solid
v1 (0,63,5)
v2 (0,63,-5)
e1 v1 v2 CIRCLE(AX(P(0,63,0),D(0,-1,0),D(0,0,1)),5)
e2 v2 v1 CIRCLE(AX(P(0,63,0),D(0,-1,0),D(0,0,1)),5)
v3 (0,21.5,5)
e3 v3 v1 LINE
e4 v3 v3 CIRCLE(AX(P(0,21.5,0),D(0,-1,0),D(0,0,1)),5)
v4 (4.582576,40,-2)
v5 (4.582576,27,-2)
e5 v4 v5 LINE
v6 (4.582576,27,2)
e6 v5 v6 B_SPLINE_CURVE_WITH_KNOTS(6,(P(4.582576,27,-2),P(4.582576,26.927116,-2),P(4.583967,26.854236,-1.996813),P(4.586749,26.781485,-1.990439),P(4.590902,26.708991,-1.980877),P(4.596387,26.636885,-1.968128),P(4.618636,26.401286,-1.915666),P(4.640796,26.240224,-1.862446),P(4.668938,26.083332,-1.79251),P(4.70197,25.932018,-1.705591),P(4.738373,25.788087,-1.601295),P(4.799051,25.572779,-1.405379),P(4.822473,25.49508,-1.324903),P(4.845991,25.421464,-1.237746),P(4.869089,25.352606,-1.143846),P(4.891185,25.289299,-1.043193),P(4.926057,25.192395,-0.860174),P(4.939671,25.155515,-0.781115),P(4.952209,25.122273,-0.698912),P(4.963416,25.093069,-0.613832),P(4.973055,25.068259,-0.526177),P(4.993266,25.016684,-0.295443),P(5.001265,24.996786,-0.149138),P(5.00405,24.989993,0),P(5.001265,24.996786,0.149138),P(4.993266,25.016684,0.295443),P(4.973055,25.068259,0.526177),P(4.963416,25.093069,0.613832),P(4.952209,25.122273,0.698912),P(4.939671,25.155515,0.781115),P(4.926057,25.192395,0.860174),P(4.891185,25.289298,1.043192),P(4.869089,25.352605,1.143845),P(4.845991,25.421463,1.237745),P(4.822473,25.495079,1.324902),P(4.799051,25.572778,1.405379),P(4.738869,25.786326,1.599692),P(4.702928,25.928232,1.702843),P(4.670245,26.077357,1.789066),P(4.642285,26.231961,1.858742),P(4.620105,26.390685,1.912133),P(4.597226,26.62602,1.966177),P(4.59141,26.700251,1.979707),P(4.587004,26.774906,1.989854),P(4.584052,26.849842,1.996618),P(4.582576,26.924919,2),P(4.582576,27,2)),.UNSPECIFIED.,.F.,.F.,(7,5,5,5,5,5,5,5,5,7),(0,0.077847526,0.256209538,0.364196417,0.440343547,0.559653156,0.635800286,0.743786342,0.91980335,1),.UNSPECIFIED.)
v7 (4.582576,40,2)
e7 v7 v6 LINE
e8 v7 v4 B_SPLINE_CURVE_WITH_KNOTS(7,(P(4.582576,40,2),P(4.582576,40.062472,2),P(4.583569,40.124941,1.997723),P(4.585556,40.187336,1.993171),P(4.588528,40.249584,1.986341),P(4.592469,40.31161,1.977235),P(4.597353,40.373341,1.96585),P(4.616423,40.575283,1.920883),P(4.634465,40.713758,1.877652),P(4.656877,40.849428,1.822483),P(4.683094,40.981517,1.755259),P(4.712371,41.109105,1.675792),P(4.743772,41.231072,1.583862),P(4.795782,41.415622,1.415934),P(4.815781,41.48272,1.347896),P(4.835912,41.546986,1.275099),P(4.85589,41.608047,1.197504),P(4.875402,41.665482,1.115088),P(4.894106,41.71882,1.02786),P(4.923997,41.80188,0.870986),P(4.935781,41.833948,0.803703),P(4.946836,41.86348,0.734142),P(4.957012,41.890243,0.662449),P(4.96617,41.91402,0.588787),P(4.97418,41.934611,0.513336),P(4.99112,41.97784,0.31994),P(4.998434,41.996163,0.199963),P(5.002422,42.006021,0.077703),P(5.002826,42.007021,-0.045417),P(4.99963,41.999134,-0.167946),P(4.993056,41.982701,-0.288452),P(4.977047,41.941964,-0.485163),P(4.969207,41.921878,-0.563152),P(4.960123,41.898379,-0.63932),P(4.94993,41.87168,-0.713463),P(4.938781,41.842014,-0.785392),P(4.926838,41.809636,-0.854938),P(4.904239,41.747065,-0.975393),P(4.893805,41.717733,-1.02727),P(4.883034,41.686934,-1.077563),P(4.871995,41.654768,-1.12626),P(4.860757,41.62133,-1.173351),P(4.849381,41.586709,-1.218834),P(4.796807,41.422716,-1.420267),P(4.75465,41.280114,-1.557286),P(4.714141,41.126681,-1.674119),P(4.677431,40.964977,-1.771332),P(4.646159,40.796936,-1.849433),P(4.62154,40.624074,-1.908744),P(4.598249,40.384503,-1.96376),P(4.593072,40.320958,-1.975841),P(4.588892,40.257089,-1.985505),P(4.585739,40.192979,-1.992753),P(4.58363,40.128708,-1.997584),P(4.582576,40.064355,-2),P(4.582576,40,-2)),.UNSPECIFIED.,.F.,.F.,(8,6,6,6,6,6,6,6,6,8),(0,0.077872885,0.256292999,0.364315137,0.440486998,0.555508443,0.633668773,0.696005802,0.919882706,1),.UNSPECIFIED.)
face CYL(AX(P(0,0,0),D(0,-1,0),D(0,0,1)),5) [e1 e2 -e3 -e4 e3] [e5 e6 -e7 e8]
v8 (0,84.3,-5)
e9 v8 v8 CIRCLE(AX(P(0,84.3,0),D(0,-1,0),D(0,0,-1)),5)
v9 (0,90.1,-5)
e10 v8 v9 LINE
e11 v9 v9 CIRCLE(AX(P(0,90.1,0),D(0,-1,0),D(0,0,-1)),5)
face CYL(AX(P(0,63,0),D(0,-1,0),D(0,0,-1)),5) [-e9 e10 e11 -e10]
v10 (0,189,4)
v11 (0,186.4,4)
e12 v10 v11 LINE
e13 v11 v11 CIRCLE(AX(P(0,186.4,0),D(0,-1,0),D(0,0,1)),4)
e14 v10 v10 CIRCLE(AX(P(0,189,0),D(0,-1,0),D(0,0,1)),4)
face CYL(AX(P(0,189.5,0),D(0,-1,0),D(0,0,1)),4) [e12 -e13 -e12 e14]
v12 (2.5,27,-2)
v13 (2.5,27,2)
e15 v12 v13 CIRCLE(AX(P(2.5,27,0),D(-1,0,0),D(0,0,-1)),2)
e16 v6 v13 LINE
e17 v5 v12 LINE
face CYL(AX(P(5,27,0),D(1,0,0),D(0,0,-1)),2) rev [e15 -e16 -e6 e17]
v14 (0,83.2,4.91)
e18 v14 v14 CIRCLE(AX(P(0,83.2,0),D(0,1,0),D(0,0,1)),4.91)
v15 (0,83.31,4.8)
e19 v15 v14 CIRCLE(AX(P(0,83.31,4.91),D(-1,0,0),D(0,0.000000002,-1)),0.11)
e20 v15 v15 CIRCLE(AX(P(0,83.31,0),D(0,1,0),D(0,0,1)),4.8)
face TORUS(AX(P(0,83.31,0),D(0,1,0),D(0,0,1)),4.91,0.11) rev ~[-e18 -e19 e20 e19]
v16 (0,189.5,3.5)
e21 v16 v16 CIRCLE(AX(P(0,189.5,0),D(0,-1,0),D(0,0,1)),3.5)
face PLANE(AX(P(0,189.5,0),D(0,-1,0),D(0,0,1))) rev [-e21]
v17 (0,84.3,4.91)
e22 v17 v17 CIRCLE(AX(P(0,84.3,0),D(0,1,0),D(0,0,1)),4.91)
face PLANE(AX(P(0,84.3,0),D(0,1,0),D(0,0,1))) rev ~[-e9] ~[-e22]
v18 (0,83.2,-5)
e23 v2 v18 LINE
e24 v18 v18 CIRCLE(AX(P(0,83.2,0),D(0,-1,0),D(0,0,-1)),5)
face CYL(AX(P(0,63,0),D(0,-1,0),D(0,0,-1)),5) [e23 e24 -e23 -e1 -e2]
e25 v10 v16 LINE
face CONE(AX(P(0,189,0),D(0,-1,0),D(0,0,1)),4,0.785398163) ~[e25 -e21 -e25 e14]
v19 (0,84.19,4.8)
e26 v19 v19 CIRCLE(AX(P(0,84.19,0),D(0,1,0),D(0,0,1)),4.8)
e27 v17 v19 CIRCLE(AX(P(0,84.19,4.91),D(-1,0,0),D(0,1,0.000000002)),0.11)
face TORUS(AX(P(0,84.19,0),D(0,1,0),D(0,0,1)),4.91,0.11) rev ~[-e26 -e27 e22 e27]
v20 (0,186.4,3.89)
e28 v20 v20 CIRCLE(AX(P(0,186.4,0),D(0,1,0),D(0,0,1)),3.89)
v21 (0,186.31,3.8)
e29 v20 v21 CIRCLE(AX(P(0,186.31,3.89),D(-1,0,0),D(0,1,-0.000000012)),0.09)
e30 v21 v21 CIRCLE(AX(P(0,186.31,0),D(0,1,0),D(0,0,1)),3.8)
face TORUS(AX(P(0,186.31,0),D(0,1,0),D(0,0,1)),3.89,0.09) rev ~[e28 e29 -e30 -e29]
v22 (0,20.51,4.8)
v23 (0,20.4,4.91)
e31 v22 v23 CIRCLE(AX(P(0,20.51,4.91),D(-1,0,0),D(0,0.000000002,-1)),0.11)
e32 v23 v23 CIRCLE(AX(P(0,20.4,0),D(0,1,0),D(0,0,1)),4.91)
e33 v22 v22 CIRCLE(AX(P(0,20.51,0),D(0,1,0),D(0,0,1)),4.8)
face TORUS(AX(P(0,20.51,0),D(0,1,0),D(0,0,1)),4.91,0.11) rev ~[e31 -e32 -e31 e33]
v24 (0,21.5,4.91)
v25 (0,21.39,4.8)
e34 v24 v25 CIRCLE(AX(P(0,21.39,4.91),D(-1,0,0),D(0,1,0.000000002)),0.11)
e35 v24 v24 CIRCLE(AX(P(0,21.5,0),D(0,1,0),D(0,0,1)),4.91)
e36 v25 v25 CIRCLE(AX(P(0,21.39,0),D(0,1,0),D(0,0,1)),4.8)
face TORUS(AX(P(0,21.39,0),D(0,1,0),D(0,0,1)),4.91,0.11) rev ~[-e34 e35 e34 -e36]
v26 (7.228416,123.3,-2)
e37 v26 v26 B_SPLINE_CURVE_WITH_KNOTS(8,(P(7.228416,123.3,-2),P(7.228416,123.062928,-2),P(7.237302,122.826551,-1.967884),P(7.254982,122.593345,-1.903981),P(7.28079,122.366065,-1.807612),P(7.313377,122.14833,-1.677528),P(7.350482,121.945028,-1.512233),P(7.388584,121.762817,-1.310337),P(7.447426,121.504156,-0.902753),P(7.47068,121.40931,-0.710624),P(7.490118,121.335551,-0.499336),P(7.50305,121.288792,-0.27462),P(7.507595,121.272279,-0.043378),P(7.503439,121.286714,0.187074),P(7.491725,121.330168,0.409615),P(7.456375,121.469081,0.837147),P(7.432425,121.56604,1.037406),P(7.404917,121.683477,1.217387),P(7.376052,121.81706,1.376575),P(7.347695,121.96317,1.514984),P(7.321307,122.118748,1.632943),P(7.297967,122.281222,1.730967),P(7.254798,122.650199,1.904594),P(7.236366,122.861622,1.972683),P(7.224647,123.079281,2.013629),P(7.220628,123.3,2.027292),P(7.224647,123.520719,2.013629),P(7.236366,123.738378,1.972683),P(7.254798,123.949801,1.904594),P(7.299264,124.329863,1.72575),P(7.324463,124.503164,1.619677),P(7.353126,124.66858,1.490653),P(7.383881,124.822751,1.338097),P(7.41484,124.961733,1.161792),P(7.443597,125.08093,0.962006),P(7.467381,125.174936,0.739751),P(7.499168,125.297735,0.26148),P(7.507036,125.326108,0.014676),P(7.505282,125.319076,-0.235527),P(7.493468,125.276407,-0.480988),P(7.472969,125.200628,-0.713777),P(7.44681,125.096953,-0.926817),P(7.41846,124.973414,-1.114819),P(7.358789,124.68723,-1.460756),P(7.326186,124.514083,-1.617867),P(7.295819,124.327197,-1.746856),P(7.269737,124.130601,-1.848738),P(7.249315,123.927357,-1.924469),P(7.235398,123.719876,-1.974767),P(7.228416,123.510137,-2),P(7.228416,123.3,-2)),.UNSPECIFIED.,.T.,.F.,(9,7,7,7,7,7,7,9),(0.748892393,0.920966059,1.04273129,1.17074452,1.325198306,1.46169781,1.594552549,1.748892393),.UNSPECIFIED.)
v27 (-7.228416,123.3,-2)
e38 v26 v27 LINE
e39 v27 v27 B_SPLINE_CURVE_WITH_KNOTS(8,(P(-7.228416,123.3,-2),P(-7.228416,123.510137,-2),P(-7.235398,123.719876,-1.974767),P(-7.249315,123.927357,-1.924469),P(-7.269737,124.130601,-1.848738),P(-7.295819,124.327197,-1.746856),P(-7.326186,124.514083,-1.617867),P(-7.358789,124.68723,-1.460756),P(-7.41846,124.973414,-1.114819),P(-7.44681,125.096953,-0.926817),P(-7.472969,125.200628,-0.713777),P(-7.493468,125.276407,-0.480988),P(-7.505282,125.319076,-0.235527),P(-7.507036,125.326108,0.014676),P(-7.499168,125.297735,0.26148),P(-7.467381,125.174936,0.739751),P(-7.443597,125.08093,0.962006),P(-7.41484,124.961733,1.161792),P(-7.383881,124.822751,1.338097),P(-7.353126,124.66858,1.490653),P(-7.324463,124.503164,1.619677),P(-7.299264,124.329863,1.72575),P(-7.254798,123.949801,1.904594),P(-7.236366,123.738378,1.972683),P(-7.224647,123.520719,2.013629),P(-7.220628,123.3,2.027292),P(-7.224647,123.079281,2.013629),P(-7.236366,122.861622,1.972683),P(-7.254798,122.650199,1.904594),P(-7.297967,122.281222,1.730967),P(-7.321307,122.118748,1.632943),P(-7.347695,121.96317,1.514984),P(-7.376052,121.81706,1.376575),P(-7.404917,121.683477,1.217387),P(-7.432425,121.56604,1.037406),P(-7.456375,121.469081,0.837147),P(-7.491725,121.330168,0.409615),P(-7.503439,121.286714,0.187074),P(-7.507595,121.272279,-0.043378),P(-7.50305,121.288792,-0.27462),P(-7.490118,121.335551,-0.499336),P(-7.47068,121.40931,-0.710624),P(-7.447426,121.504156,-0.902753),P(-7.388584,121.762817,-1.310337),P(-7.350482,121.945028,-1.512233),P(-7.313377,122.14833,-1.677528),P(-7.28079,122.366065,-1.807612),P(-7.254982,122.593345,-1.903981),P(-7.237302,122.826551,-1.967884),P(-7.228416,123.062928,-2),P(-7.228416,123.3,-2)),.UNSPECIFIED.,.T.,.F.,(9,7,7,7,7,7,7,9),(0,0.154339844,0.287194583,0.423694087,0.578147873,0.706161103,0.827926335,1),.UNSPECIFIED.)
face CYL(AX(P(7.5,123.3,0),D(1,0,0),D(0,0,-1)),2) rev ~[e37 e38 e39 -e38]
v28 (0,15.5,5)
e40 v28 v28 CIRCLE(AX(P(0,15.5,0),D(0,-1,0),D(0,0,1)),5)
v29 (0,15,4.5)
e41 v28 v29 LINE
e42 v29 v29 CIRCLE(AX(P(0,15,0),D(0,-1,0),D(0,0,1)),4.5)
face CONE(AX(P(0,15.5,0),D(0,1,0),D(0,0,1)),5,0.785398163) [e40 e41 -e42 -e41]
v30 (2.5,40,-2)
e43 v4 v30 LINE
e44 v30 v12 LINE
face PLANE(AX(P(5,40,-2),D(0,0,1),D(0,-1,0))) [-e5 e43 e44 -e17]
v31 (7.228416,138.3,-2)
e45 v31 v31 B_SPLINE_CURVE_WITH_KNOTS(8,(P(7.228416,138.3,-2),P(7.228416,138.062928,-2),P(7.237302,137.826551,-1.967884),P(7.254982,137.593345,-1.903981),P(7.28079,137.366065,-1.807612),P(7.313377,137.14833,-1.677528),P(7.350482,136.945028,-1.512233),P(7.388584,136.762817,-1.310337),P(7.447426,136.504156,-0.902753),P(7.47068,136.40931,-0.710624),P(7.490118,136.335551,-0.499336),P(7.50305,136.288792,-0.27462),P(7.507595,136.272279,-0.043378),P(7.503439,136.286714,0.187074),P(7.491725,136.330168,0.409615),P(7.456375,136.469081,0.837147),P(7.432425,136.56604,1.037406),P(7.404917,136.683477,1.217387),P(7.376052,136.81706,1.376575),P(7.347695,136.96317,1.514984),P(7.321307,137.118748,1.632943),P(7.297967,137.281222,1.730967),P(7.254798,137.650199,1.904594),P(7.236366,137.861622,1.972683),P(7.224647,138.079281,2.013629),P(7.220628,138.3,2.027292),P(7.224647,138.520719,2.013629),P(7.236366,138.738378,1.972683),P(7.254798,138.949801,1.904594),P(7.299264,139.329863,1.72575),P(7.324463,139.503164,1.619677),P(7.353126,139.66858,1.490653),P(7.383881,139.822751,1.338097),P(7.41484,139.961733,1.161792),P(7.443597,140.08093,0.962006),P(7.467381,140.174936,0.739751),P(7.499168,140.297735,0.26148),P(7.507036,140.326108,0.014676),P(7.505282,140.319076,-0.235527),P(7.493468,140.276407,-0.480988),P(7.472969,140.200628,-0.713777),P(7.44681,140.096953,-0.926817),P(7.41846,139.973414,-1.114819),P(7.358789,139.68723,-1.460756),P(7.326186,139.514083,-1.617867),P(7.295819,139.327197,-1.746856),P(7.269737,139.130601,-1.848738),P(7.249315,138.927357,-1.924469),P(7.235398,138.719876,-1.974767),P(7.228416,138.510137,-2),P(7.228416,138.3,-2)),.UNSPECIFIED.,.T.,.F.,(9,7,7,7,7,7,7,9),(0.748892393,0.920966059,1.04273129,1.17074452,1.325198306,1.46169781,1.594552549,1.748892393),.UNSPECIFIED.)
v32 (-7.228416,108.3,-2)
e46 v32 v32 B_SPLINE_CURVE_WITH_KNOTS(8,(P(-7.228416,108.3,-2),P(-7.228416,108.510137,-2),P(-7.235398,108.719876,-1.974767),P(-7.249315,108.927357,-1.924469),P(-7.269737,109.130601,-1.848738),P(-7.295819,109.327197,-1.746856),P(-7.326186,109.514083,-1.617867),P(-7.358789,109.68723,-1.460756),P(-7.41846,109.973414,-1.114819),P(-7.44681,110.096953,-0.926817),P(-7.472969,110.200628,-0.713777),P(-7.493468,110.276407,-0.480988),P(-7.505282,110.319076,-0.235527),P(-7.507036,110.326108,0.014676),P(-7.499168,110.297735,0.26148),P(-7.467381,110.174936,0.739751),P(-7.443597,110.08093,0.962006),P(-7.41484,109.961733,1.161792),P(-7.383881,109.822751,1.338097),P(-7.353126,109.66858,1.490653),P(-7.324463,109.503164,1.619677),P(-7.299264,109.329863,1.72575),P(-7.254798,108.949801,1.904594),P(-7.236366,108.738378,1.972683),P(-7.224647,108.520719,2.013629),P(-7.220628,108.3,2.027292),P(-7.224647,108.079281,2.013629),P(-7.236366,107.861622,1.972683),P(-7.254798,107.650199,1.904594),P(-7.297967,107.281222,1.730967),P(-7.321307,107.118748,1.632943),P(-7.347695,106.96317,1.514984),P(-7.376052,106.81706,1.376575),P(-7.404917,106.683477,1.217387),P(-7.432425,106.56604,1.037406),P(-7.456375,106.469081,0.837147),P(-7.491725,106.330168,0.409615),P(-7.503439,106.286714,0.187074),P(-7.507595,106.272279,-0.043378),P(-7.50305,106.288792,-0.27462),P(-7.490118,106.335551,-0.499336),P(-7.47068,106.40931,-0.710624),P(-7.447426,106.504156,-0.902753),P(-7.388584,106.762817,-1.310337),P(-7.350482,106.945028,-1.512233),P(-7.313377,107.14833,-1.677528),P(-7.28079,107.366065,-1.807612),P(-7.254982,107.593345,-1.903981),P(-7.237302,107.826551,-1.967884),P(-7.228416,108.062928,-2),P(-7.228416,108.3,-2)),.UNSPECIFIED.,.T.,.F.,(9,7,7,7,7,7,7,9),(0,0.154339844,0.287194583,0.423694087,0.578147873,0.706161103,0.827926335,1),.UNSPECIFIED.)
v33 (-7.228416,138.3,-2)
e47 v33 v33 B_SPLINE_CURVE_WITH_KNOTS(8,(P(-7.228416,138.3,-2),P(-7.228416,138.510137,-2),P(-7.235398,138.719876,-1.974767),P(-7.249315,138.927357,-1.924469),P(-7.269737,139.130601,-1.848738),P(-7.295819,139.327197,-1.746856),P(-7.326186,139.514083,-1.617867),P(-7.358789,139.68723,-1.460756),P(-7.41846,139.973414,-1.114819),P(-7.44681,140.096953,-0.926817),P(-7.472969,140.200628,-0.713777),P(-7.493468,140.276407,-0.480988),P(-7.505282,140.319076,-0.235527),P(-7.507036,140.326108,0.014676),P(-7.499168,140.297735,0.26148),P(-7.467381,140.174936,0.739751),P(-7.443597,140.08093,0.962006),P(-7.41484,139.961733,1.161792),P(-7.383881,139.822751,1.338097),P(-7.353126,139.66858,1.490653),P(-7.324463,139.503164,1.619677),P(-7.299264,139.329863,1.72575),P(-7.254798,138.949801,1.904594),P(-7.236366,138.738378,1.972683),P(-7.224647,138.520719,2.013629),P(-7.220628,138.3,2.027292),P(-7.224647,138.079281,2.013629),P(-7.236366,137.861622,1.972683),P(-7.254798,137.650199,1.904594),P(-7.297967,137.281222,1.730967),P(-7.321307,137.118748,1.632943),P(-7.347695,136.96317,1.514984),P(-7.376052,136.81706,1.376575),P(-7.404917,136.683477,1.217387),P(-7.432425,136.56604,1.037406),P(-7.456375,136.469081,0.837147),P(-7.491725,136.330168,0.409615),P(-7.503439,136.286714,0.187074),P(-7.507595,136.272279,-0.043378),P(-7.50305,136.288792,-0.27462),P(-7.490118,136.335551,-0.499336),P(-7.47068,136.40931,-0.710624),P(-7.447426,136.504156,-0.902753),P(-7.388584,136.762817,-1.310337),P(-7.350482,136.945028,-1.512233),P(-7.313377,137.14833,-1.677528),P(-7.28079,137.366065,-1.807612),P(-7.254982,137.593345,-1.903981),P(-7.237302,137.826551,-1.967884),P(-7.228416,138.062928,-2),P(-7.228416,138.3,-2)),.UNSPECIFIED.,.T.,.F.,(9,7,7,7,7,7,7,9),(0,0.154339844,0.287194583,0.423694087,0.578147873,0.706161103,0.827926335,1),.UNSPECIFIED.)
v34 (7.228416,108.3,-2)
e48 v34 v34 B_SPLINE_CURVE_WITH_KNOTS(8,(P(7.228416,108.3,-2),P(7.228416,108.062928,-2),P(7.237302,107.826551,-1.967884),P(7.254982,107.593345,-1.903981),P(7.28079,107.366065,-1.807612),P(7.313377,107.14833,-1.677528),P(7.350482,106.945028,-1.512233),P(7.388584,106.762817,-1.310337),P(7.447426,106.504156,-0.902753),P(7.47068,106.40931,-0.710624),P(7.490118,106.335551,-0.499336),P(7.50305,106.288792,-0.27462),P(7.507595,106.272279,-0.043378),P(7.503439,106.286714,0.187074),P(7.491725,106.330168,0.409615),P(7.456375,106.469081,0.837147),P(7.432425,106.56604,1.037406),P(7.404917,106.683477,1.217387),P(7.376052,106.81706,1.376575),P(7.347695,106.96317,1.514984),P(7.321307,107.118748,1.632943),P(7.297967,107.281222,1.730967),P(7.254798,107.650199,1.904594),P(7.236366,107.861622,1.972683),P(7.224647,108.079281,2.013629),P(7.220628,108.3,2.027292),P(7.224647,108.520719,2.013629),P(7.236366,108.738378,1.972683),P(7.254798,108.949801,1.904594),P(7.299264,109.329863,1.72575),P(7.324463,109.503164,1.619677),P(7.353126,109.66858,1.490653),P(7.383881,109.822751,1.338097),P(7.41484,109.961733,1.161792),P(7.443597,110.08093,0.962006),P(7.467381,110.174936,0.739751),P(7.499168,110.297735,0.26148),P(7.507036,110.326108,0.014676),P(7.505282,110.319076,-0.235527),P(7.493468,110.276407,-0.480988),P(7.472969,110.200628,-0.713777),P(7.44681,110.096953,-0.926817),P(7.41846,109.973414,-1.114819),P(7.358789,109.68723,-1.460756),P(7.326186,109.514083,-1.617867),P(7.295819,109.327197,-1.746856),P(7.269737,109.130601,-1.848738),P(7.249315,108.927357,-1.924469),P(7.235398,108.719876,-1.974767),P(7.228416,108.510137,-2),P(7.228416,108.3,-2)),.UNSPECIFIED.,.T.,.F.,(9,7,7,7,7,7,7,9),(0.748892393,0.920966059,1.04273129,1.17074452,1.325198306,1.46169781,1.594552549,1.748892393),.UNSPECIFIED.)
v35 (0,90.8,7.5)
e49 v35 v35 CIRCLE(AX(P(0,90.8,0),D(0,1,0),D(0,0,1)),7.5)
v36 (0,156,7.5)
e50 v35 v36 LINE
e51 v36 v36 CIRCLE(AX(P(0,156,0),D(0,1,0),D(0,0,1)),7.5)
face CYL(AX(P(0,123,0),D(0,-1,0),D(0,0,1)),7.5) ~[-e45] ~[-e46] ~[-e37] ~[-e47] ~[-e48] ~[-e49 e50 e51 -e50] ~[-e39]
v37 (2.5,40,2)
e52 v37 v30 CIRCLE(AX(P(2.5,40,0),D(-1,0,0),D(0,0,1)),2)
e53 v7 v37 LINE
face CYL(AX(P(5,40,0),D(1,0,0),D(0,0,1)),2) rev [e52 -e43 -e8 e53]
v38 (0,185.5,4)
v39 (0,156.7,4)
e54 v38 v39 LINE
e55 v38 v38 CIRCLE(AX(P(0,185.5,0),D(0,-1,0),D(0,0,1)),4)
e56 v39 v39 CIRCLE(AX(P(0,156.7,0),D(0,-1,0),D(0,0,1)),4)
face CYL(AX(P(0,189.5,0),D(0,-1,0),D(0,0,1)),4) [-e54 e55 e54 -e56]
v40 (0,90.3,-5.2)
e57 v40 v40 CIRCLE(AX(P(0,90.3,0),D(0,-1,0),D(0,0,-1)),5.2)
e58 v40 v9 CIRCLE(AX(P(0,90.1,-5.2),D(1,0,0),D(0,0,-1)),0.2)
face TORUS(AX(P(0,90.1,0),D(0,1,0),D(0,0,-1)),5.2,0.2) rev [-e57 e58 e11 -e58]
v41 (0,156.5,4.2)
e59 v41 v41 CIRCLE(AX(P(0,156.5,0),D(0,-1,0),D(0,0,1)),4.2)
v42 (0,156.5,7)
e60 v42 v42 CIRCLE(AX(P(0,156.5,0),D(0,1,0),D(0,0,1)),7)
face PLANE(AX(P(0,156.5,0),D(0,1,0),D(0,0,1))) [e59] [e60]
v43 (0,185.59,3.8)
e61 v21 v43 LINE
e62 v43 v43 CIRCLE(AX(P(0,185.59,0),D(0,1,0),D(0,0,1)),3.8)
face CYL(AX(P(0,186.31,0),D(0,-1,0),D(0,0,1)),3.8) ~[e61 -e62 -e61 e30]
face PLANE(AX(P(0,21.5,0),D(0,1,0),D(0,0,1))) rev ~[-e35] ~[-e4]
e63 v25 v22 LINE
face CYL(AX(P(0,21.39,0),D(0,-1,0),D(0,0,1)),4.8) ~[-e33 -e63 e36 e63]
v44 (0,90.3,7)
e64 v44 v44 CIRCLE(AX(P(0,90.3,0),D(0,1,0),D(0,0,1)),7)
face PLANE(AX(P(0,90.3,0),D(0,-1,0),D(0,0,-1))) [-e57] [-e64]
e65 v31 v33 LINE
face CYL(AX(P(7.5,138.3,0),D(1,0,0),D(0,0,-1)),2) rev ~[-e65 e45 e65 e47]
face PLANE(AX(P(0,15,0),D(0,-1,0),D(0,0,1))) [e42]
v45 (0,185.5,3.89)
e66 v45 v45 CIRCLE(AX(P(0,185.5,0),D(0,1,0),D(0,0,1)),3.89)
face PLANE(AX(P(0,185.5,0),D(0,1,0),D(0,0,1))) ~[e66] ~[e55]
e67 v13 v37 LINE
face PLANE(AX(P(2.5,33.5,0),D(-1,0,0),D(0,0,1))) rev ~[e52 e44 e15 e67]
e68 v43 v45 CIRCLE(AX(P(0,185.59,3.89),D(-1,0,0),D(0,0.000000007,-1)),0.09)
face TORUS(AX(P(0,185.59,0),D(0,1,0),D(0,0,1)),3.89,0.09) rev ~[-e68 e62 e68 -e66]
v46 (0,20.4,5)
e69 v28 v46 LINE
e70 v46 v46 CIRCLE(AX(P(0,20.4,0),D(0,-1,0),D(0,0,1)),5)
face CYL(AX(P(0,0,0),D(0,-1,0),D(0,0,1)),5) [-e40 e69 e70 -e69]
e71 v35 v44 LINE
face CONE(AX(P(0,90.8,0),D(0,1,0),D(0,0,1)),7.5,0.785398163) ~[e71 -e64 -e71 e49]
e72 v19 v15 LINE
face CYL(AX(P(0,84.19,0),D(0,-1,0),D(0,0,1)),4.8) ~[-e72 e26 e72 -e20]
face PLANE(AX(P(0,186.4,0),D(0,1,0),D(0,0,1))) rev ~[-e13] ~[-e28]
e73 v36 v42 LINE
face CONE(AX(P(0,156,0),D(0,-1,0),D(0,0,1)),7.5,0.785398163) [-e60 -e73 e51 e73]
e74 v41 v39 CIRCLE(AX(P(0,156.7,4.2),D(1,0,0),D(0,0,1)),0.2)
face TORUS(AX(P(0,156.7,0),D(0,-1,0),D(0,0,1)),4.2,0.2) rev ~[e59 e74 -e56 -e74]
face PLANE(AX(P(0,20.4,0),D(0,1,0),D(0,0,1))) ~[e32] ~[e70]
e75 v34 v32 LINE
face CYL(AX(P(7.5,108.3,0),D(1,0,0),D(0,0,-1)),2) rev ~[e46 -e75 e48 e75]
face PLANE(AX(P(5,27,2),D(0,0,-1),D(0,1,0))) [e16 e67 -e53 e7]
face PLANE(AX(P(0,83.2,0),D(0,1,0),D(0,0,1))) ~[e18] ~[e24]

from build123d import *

# Parameters (mm, degrees)
BOSS_EXTRUDE4_START = 30
SKETCH17_R          = 5
BOSS_EXTRUDE4_DEPTH = 30
CUT_EXTRUDE1_DEPTH  = 2.5
SKETCH27_R          = 7.5
BOSS_EXTRUDE5_DEPTH = 33.5
SKETCH30_R          = 7.5
SKETCH30_R_2        = 5
CUT_EXTRUDE5_DEPTH  = 27.3
SKETCH24_R          = 2
CUT_EXTRUDE4_DEPTH  = 191.240637089
SKETCH35_R          = 5
CUT_EXTRUDE6_DEPTH  = 15
CHAMFER2_SIZE       = 0.5
FILLET2_R           = 0.2


with BuildPart() as part:
    # Sketch1 → Revolve1 (revolve)
    with BuildSketch(Plane.XY, mode=Mode.PRIVATE) as revolve1_sk:
        Polygon((0, 189.5), (4, 189.5), (4, 156.5), (5, 156.5), (5, 123), (7.5, 123), (7.5, 63), (5, 63), (5, 30), (4, 30), (4, 0), (0, 0), align=None)
    revolve(revolve1_sk.sketch.rotate(Axis((0, 27.535863038, 0), (0, -1, 0)), 90), axis=Axis((0, 27.535863038, 0), (0, -1, 0)))

    # Sketch17 → Boss-Extrude4 (add)
    with BuildSketch(Plane.XZ.offset(-30).offset(BOSS_EXTRUDE4_START)):
        with Locations(Location((0, 0, 0), (0, 0, 90))):
            Circle(SKETCH17_R)
    extrude(amount=-BOSS_EXTRUDE4_DEPTH)

    # Sketch2 → Cut-Extrude1 (cut)
    with BuildSketch(Plane(origin=(5, 0, 0), x_dir=(0, 0, -1), z_dir=(1, 0, 0))):
        with BuildLine():
            Line((2, 40), (2, 27))
            ThreePointArc((2, 27), (0, 25), (-2, 27))
            Line((-2, 27), (-2, 40))
            ThreePointArc((-2, 40), (0, 42), (2, 40))
        make_face()
    extrude(amount=-CUT_EXTRUDE1_DEPTH, mode=Mode.SUBTRACT)

    # Sketch19 → Groove for BS 3673 P4 - S010M_ External (revolve, cut)
    with BuildSketch(Plane(origin=(0, 27.535863038, 0), x_dir=(0, 0, 1), z_dir=(-1, 0, 0))):
        with BuildLine():
            Line((4.91, 101.464136962), (6, 101.464136962))
            Line((6, 101.464136962), (6, 102.564136962))
            Line((6, 102.564136962), (4.91, 102.564136962))
            ThreePointArc((4.91, 102.564136962), (4.832218254, 102.531918708), (4.8, 102.454136962))
            Line((4.8, 102.454136962), (4.8, 101.574136962))
            ThreePointArc((4.8, 101.574136962), (4.832218254, 101.496355216), (4.91, 101.464136962))
        make_face()
    revolve(axis=Axis((0, -22.464136962, 0), (0, 1, 0)), mode=Mode.SUBTRACT)

    # Sketch21 → Groove for BS 3673 P4 - S010M_ Exter 2 (revolve, cut)
    with BuildSketch(Plane(origin=(0, 27.535863038, 0), x_dir=(0, 0, 1), z_dir=(-1, 0, 0))):
        with BuildLine():
            Line((4.91, -7.135863038), (6, -7.135863038))
            Line((6, -7.135863038), (6, -6.035863038))
            Line((6, -6.035863038), (4.91, -6.035863038))
            ThreePointArc((4.91, -6.035863038), (4.832218254, -6.068081292), (4.8, -6.145863038))
            Line((4.8, -6.145863038), (4.8, -7.025863038))
            ThreePointArc((4.8, -7.025863038), (4.832218254, -7.103644784), (4.91, -7.135863038))
        make_face()
    revolve(axis=Axis((0, -22.464136962, 0), (0, 1, 0)), mode=Mode.SUBTRACT)

    # Sketch27 → Boss-Extrude5 (add)
    with BuildSketch(Plane(origin=(0, 123, 0), x_dir=(1, 0, 0), z_dir=(0, 1, 0))):
        with Locations(Location((0, 0, 0), (0, 0, 270))):
            Circle(SKETCH27_R)
    extrude(amount=BOSS_EXTRUDE5_DEPTH)

    # Sketch30 → Cut-Extrude5 (cut)
    with BuildSketch(Plane.XZ.offset(-63)):
        with Locations(Location((0, 0, 0), (0, 0, 270))):
            Circle(SKETCH30_R)
        with Locations(Location((0, 0, 0), (0, 0, 270))):
            Circle(SKETCH30_R_2, mode=Mode.SUBTRACT)
    extrude(amount=-CUT_EXTRUDE5_DEPTH, mode=Mode.SUBTRACT)

    # Sketch32 → Groove for BS 3673 P4 - S008M, External Circlip1 (revolve, cut)
    with BuildSketch(Plane(origin=(0, 27.535863038, 0), x_dir=(0, 0, 1), z_dir=(-1, 0, 0))):
        with BuildLine():
            Line((3.89, 157.964136962), (4.8, 157.964136962))
            Line((4.8, 157.964136962), (4.8, 158.864136962))
            Line((4.8, 158.864136962), (3.89, 158.864136962))
            ThreePointArc((3.89, 158.864136962), (3.82636039, 158.837776572), (3.8, 158.774136962))
            Line((3.8, 158.774136962), (3.8, 158.054136962))
            ThreePointArc((3.8, 158.054136962), (3.82636039, 157.990497351), (3.89, 157.964136962))
        make_face()
    revolve(axis=Axis((0, -22.464136962, 0), (0, 1, 0)), mode=Mode.SUBTRACT)

    # Sketch34 → Groove for BS 3673 P4 - S010M_ Exter 3 (revolve, cut)
    with BuildSketch(Plane(origin=(0, 27.535863038, 0), x_dir=(0, 0, 1), z_dir=(-1, 0, 0))):
        with BuildLine():
            Line((4.91, 55.664136962), (6, 55.664136962))
            Line((6, 55.664136962), (6, 56.764136962))
            Line((6, 56.764136962), (4.91, 56.764136962))
            ThreePointArc((4.91, 56.764136962), (4.832218254, 56.731918708), (4.8, 56.654136962))
            Line((4.8, 56.654136962), (4.8, 55.774136962))
            ThreePointArc((4.8, 55.774136962), (4.832218254, 55.696355216), (4.91, 55.664136962))
        make_face()
    revolve(axis=Axis((0, -22.464136962, 0), (0, 1, 0)), mode=Mode.SUBTRACT)

    # Sketch24 → Cut-Extrude4 (cut, through all)
    with BuildSketch(Plane(origin=(7.5, 0, 0), x_dir=(0, 0, -1), z_dir=(1, 0, 0))):
        with Locations((0, 108.3)):
            Circle(SKETCH24_R)
        with Locations((0, 123.3)):
            Circle(SKETCH24_R)
        with Locations((0, 138.3)):
            Circle(SKETCH24_R)
    extrude(amount=-CUT_EXTRUDE4_DEPTH, mode=Mode.SUBTRACT)

    # Sketch35 → Cut-Extrude6 (cut)
    with BuildSketch(Plane.XZ):
        with Locations(Location((0, 0, 0), (0, 0, 90))):
            Circle(SKETCH35_R)
    extrude(amount=-CUT_EXTRUDE6_DEPTH, mode=Mode.SUBTRACT)

    # Chamfer2
    chamfer2_edges = [part.edges().sort_by_distance(p)[0] for p in [
        (0, 15, -5),
        (0, 189.5, -4),
        (0, 156.5, -7.5),
        (0, 90.3, -7.5),
    ]]
    chamfer(chamfer2_edges, length=CHAMFER2_SIZE)

    # Fillet2
    fillet2_edges = [part.edges().sort_by_distance(p)[0] for p in [
        (0, 156.5, -4),
        (0, 90.3, 5),
    ]]
    fillet(fillet2_edges, radius=FILLET2_R)


solid = part.part
